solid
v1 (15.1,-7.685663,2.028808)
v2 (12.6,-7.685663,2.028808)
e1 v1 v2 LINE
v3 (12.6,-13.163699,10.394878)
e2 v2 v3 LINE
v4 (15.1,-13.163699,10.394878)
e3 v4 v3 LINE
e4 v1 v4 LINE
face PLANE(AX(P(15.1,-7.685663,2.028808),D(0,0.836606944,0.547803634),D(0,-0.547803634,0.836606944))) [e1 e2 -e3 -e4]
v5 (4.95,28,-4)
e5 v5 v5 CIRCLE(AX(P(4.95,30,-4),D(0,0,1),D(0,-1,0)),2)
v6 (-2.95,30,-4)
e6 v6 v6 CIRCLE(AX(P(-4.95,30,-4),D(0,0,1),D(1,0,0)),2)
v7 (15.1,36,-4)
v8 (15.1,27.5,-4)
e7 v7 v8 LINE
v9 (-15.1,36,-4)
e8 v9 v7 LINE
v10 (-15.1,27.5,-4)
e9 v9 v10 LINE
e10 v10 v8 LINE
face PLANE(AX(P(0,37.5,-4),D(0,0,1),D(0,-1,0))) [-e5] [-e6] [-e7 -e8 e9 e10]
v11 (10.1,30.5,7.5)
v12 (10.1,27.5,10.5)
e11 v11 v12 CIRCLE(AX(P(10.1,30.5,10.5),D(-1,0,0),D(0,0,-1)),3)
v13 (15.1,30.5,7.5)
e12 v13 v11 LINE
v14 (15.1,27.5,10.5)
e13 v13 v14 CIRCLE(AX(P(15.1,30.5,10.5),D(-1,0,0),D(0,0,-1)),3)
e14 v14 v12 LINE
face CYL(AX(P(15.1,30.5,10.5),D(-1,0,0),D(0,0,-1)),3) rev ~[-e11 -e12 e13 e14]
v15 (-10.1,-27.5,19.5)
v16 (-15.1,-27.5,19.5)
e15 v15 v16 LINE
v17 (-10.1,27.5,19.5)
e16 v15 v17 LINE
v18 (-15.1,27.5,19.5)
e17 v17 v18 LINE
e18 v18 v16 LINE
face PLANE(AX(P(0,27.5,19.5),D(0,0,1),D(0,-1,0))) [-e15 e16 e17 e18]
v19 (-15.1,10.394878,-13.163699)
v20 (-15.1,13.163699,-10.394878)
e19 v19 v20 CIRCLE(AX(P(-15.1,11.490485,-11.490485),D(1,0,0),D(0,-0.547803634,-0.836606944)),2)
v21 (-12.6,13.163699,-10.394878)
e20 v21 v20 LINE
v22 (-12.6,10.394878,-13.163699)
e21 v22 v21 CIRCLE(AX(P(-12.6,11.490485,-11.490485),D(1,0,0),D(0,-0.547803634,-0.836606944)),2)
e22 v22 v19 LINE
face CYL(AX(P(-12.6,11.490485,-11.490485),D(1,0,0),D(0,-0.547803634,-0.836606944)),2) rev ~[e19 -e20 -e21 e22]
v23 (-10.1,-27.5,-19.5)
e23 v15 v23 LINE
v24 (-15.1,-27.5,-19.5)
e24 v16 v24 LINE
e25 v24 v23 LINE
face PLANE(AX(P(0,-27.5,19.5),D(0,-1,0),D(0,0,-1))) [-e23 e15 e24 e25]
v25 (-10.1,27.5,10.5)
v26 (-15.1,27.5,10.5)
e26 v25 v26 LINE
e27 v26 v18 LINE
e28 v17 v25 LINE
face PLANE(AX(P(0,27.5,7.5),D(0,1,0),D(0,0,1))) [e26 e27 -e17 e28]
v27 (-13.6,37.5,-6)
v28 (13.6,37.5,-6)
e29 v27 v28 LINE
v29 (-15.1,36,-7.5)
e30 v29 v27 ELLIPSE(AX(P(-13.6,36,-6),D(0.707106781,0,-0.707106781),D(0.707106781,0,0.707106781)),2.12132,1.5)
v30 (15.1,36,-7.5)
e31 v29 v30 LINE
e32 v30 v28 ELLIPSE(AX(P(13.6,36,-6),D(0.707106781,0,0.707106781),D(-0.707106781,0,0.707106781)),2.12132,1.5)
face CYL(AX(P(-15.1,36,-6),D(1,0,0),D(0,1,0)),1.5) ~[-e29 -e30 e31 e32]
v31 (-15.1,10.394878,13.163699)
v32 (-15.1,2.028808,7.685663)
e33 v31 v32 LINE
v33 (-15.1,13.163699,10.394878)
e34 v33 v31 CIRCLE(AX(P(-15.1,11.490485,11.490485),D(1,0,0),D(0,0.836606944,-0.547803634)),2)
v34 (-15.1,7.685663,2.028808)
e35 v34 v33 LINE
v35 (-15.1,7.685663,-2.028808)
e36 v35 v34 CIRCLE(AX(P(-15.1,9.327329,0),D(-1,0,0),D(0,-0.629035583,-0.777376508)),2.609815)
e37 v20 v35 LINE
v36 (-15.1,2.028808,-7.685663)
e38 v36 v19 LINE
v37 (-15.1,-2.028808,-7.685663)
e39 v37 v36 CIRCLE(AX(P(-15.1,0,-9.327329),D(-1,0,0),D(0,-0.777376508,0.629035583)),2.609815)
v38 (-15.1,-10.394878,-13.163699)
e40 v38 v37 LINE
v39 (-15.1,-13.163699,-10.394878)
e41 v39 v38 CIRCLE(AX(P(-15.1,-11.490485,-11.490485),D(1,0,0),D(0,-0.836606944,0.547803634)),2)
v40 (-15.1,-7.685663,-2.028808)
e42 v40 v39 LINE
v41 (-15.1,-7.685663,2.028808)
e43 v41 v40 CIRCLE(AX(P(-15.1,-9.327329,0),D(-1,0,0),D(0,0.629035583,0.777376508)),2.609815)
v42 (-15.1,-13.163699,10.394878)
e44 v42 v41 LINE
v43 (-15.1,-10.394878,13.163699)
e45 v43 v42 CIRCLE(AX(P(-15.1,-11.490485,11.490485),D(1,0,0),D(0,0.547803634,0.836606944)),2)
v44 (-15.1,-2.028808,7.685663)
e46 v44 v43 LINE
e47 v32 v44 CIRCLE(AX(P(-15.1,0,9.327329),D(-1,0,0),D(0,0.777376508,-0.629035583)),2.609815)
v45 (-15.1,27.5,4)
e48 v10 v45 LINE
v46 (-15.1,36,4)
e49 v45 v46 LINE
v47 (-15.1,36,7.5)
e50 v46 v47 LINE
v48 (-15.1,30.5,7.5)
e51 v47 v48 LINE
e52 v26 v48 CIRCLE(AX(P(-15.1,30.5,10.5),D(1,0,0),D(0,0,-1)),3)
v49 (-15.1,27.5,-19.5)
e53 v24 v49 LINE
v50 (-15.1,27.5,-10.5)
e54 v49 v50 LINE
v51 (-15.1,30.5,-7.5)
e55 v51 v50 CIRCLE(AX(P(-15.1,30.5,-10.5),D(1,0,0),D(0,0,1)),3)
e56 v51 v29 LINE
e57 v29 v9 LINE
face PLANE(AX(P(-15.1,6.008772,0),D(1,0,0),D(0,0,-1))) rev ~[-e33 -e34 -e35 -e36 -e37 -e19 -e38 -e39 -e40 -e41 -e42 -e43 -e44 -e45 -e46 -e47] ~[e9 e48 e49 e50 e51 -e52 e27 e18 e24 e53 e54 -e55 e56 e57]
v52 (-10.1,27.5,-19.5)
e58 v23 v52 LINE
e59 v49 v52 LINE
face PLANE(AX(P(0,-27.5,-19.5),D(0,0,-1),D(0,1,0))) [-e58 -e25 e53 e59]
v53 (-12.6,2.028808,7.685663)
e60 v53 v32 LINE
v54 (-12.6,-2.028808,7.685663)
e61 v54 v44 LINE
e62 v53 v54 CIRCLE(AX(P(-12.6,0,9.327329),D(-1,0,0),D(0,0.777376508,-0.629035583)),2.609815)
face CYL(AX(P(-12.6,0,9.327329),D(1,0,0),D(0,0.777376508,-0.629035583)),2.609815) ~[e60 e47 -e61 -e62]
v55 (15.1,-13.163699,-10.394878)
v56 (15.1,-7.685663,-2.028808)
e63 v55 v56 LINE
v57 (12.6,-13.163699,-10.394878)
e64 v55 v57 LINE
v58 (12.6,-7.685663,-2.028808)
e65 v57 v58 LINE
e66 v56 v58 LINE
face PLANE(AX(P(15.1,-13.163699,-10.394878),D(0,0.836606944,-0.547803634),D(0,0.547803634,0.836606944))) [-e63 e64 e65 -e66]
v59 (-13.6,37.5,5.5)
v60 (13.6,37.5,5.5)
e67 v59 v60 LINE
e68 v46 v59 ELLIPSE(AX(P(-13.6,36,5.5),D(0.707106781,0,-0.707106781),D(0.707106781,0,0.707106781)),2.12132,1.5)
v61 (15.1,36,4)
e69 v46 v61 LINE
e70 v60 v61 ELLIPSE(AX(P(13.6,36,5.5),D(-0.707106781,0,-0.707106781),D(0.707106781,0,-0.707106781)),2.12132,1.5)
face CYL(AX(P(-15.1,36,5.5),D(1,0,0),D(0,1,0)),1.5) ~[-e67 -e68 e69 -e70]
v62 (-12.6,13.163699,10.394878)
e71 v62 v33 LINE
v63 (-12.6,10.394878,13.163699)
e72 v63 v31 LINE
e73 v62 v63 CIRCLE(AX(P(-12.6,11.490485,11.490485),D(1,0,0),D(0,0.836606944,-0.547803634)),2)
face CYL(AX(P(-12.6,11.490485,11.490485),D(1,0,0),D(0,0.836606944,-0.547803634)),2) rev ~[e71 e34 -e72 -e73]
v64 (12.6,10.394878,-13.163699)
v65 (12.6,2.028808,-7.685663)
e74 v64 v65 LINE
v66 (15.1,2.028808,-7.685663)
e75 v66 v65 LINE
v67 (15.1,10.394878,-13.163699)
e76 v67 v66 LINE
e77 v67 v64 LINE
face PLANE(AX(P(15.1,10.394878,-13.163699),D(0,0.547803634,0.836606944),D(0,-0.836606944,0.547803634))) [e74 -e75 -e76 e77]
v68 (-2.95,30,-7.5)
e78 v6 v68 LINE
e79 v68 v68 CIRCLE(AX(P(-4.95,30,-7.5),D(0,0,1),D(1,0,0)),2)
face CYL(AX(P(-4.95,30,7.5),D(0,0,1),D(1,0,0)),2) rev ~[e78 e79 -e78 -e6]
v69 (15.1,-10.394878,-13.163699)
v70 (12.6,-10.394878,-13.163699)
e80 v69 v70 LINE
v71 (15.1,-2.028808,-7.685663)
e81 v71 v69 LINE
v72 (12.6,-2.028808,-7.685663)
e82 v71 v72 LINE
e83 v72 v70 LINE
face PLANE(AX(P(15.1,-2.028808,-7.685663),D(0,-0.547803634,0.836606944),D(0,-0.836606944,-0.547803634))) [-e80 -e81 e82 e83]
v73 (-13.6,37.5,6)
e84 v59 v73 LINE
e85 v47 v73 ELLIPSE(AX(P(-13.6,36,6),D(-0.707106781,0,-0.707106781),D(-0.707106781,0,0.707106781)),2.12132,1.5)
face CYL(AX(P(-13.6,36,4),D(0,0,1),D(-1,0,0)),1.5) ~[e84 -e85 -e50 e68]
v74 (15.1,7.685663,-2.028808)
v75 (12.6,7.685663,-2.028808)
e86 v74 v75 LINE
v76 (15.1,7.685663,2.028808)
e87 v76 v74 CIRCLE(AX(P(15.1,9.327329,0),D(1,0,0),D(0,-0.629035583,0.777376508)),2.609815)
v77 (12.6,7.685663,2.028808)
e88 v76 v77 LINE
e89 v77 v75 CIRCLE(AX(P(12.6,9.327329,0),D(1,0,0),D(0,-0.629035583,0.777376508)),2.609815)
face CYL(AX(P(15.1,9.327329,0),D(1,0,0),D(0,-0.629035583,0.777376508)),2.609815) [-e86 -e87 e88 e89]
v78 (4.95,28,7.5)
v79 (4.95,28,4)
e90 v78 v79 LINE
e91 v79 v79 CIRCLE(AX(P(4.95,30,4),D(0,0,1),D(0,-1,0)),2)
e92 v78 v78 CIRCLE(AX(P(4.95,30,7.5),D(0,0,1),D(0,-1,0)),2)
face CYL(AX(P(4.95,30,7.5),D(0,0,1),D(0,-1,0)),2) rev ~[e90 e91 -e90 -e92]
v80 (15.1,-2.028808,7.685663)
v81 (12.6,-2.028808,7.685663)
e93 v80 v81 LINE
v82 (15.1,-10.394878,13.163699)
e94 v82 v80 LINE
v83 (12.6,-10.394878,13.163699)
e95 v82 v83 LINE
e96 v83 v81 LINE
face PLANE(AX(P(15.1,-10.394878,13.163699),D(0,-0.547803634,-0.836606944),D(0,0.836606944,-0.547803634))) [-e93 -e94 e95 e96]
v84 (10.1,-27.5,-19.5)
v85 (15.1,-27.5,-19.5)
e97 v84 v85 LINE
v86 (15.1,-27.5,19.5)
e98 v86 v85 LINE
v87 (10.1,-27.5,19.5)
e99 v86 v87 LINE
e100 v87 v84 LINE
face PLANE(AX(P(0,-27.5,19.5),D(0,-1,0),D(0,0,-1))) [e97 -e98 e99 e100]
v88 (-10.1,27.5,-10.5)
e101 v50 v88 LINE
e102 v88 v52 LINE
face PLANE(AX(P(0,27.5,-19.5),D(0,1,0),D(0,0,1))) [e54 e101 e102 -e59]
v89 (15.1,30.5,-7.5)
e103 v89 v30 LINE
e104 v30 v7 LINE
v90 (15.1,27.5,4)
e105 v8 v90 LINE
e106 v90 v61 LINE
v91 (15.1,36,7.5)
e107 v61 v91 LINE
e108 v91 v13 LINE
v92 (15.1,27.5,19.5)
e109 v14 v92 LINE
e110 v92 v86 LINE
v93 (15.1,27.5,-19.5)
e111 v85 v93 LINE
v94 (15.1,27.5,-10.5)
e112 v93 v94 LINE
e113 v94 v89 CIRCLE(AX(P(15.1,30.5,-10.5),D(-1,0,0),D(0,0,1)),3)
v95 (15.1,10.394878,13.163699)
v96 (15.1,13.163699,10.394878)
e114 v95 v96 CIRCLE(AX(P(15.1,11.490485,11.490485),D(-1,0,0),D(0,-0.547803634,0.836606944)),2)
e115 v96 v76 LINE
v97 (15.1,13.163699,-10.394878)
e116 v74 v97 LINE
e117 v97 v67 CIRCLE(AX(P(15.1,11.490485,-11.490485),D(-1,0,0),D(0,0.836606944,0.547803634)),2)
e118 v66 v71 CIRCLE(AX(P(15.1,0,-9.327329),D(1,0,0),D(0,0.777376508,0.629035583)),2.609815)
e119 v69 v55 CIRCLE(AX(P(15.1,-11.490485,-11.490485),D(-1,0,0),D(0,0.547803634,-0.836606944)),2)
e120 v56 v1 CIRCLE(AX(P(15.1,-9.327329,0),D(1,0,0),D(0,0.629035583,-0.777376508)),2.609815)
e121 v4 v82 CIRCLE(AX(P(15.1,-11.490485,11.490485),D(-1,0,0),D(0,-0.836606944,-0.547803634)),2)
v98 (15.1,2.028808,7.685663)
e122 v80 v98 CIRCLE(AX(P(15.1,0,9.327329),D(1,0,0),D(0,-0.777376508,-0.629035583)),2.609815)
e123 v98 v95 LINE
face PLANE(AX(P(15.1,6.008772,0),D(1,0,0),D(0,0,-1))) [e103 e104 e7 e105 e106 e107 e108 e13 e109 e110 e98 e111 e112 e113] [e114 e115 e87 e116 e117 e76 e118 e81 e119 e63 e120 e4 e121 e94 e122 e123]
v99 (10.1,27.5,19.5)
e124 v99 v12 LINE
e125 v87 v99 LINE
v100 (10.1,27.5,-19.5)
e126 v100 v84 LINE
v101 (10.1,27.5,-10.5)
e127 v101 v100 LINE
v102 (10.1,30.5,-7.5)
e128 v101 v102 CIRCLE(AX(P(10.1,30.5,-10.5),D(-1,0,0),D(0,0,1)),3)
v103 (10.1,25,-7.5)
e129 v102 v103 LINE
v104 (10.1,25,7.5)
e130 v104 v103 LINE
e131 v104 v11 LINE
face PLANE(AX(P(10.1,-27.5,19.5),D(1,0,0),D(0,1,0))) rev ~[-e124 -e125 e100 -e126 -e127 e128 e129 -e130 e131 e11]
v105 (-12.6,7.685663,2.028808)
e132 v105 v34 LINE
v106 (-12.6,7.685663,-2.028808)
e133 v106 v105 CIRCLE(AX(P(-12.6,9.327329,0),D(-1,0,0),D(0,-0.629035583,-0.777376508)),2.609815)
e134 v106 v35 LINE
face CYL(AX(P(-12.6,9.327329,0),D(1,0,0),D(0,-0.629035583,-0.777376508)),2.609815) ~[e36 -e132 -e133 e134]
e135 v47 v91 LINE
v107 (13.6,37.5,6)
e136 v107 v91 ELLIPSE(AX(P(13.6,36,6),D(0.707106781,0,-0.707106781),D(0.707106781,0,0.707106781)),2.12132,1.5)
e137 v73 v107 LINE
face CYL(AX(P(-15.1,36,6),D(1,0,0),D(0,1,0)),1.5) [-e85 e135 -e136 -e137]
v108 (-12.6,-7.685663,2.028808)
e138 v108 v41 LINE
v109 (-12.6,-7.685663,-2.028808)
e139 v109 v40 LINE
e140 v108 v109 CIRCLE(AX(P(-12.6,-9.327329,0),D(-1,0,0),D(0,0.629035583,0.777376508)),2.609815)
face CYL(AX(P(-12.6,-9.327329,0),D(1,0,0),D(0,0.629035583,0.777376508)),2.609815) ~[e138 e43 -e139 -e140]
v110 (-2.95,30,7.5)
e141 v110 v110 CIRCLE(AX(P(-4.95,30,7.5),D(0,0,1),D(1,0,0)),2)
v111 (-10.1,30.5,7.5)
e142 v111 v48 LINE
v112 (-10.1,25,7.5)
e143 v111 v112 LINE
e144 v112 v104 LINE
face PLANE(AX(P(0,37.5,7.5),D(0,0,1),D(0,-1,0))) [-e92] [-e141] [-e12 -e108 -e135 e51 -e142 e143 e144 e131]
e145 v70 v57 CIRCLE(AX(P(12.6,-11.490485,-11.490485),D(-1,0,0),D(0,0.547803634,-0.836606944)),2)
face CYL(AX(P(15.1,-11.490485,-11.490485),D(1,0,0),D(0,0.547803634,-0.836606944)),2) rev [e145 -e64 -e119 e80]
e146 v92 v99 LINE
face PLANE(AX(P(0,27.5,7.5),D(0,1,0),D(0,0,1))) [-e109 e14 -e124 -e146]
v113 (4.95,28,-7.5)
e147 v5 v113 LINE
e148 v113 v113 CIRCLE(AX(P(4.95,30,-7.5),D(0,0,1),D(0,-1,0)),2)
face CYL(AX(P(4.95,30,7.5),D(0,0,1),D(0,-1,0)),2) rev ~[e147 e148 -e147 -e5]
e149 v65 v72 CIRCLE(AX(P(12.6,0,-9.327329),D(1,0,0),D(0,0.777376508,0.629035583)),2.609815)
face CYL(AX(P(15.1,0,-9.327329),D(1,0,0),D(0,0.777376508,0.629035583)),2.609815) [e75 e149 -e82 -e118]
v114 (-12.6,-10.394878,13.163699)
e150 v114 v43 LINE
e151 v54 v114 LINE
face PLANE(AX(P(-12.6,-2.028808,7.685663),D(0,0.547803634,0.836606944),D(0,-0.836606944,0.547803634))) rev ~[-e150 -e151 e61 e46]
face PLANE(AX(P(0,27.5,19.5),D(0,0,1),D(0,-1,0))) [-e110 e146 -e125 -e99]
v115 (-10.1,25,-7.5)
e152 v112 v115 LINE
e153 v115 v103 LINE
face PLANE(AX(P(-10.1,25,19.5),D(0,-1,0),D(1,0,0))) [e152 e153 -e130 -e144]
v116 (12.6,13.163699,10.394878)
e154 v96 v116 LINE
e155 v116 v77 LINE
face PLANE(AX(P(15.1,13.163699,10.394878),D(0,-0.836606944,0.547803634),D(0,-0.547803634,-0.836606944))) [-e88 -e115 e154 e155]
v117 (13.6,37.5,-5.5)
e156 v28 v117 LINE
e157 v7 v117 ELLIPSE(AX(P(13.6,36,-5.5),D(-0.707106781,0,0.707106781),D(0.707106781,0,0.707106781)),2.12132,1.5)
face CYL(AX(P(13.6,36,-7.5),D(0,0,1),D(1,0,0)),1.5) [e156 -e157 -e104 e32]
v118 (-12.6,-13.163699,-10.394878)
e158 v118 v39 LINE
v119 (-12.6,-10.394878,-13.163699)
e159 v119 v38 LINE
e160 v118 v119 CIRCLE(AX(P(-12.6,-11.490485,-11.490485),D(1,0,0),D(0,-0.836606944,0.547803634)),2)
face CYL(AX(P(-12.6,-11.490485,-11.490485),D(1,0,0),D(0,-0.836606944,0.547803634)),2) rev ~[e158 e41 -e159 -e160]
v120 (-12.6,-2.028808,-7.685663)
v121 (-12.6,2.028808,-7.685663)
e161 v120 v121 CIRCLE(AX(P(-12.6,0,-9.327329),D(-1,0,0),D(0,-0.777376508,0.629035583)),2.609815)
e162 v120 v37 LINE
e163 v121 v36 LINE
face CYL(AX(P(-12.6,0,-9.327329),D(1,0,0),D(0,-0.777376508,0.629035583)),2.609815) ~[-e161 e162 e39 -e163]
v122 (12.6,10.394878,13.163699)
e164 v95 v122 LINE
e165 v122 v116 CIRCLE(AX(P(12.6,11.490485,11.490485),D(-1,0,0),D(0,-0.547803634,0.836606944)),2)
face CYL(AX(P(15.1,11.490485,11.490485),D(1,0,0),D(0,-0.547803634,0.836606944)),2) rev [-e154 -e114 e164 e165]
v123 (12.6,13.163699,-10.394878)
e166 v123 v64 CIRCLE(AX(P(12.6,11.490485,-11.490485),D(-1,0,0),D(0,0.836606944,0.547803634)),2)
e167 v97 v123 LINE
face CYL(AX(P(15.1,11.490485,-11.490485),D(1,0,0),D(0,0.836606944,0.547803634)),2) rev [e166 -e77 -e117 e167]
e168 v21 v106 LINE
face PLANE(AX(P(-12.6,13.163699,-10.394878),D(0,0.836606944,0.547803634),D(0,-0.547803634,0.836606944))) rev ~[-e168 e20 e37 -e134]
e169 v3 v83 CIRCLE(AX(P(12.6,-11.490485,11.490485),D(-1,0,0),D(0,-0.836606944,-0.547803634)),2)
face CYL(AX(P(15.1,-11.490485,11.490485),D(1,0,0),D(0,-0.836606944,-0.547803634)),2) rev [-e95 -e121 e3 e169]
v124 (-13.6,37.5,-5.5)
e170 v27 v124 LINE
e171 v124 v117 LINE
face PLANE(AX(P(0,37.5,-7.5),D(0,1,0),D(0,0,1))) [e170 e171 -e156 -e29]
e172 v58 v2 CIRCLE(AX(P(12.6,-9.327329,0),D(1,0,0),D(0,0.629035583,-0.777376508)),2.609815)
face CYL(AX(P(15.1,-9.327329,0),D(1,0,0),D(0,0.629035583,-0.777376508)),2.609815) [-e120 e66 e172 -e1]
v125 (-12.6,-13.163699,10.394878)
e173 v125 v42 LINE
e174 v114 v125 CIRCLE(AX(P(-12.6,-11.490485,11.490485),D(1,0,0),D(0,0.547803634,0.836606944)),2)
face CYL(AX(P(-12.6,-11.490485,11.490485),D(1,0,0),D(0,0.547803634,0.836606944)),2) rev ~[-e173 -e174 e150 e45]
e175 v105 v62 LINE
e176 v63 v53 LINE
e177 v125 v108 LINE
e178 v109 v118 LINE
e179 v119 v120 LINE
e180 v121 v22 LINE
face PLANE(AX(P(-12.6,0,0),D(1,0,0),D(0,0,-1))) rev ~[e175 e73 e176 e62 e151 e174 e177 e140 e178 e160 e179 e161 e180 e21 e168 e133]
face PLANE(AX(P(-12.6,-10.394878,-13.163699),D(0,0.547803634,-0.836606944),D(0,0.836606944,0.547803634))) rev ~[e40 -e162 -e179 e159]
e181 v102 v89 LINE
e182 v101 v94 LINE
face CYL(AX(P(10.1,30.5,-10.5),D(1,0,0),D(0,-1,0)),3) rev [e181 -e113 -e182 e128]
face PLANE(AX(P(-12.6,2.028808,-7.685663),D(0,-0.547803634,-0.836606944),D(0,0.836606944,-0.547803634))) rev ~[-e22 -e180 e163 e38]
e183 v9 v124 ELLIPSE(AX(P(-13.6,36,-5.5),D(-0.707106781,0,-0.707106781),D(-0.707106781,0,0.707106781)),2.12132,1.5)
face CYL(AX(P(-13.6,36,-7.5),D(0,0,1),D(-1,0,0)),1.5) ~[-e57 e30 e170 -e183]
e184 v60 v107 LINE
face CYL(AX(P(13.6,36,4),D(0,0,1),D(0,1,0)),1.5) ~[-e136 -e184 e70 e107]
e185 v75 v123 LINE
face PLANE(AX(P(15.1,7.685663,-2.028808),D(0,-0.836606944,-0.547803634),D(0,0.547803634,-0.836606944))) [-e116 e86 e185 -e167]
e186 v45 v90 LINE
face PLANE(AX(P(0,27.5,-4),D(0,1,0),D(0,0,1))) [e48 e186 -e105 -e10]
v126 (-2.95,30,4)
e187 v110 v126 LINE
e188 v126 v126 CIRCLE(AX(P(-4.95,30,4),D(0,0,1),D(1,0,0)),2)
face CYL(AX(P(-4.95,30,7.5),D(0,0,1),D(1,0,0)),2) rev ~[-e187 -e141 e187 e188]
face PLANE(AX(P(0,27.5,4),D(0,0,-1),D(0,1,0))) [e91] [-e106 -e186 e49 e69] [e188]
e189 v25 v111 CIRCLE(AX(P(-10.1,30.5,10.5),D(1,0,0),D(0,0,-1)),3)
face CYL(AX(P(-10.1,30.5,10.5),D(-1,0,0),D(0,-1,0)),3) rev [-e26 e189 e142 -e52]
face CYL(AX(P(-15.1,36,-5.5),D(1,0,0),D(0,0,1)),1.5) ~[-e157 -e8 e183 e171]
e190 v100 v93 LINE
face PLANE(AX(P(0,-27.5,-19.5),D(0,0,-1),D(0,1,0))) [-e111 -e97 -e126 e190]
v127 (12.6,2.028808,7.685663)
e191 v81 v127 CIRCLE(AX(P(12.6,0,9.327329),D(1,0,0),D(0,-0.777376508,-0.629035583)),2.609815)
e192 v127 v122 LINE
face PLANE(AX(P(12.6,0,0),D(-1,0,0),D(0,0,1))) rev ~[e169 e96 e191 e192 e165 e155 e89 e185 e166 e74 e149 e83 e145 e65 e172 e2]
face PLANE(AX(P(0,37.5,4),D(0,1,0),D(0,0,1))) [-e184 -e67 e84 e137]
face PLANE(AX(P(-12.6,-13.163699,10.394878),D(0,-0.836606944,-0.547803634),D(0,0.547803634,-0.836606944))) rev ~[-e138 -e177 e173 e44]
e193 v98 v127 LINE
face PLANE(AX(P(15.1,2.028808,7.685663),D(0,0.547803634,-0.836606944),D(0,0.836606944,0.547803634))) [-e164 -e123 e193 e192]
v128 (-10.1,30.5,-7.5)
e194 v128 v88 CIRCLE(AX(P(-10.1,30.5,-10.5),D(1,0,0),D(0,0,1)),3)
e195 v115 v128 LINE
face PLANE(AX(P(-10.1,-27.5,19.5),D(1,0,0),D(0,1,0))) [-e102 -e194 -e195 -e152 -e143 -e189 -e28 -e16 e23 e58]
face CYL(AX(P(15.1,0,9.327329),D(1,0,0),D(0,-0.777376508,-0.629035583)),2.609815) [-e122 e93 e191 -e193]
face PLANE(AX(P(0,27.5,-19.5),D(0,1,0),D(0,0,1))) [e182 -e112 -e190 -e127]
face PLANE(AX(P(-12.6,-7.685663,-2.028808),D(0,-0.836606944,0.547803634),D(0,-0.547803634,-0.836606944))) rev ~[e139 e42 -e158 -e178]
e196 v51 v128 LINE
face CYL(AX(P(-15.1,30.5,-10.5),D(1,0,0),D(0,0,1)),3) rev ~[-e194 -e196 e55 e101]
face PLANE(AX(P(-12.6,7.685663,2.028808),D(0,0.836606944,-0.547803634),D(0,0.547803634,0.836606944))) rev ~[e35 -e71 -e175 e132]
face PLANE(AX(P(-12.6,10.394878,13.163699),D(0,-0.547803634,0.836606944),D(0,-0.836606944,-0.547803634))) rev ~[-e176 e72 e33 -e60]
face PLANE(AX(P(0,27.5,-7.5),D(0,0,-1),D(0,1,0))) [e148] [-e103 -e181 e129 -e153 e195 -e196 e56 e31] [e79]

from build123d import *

# Parameters (mm, degrees)
BOSS_EXTRUDE1_DEPTH = 15.1
SKETCH2_W           = 20.2
SKETCH2_H           = 52.5
CUT_EXTRUDE1_DEPTH  = 39
SKETCH3_W           = 20.2
SKETCH3_H           = 12
CUT_EXTRUDE2_DEPTH  = 2.5
FILLET1_R           = 3
FILLET2_R           = 1.5
CUT_EXTRUDE3_REACH  = 50.613
SKETCH4_R           = 2
CUT_EXTRUDE4_DEPTH  = 2.5
CUT_EXTRUDE5_START  = -2.5
CUT_EXTRUDE5_DEPTH  = 2.5


with BuildPart() as part:
    # Sketch1 → Boss-Extrude1 (new, symmetric)
    with BuildSketch(Plane(origin=(0, 0, 0), x_dir=(0, 0, -1), z_dir=(1, 0, 0))):
        Polygon((-19.5, -27.5), (19.5, -27.5), (19.5, 27.5), (7.5, 27.5), (7.5, 37.5), (4, 37.5), (4, 27.5), (-4, 27.5), (-4, 37.5), (-7.5, 37.5), (-7.5, 27.5), (-19.5, 27.5), align=None)
    extrude(amount=BOSS_EXTRUDE1_DEPTH, both=True)

    # Sketch2 → Cut-Extrude1 (cut)
    with BuildSketch(Plane.XY.offset(19.5)):
        with Locations((0, -1.25)):
            Rectangle(SKETCH2_W, SKETCH2_H)
    extrude(amount=-CUT_EXTRUDE1_DEPTH, mode=Mode.SUBTRACT)

    # Sketch3 → Cut-Extrude2 (cut)
    with BuildSketch(Plane(origin=(0, 27.5, 0), x_dir=(1, 0, 0), z_dir=(0, 1, 0))):
        with Locations((0, -13.5)):
            Rectangle(SKETCH3_W, SKETCH3_H)
        with Locations((0, 13.5)):
            Rectangle(SKETCH3_W, SKETCH3_H)
    extrude(amount=-CUT_EXTRUDE2_DEPTH, mode=Mode.SUBTRACT)

    # Fillet1
    fillet1_edges = [part.edges().sort_by_distance(p)[0] for p in [
        (12.6, 27.5, 7.5),
        (12.6, 27.5, -7.5),
        (-12.6, 27.5, 7.5),
        (-12.6, 27.5, -7.5),
    ]]
    fillet(fillet1_edges, radius=FILLET1_R)

    # Fillet2
    fillet2_edges = [part.edges().sort_by_distance(p)[0] for p in [
        (15.1, 37.5, -5.75),
        (-15.1, 37.5, 5.75),
        (-15.1, 37.5, -5.75),
        (0, 37.5, 7.5),
        (0, 37.5, 4),
        (0, 37.5, -4),
        (0, 37.5, -7.5),
        (15.1, 37.5, 5.75),
    ]]
    fillet(fillet2_edges, radius=FILLET2_R)

    # Cut-Extrude3: up to this face of the body (flat: up to its plane)
    cut_extrude3_end = Plane(part.part.faces().sort_by_distance((0, 31.045634921, -7.5))[0])
    # Sketch4 → Cut-Extrude3 (cut, up to the picked face)
    with BuildSketch(Plane.XY.offset(7.5), mode=Mode.PRIVATE) as cut_extrude3_sk1:
        with Locations((-4.95, 30)):
            Circle(SKETCH4_R)
    cut_extrude3_tool1 = split(extrude(cut_extrude3_sk1.sketch, amount=-CUT_EXTRUDE3_REACH, mode=Mode.PRIVATE), bisect_by=cut_extrude3_end, keep=Keep.BOTH, mode=Mode.PRIVATE)
    # Sketch4 → Cut-Extrude3 (cut, up to the picked face)
    with BuildSketch(Plane.XY.offset(7.5), mode=Mode.PRIVATE) as cut_extrude3_sk2:
        with Locations(Location((4.95, 30, 0), (0, 0, 270))):
            Circle(SKETCH4_R)
    cut_extrude3_tool2 = split(extrude(cut_extrude3_sk2.sketch, amount=-CUT_EXTRUDE3_REACH, mode=Mode.PRIVATE), bisect_by=cut_extrude3_end, keep=Keep.BOTH, mode=Mode.PRIVATE)
    add(cut_extrude3_tool1.solids().sort_by(Axis((-4.95, 30, 7.5), (0, 0, -1)))[0], mode=Mode.SUBTRACT)
    add(cut_extrude3_tool2.solids().sort_by(Axis((4.95, 30, 7.5), (0, 0, -1)))[0], mode=Mode.SUBTRACT)

    # Sketch5 → Cut-Extrude4 (cut)
    with BuildSketch(Plane(origin=(15.1, 0, 0), x_dir=(0, 0, -1), z_dir=(1, 0, 0))):
        with BuildLine():
            Line((13.163699082, 10.394877926), (7.685662738, 2.028808489))
            ThreePointArc((7.685662738, 2.028808489), (6.717514421, 0), (7.685662738, -2.028808489))
            Line((7.685662738, -2.028808489), (13.163699082, -10.394877926))
            ThreePointArc((13.163699082, -10.394877926), (12.904698757, -12.904698757), (10.394877926, -13.163699082))
            Line((10.394877926, -13.163699082), (2.028808489, -7.685662738))
            ThreePointArc((2.028808489, -7.685662738), (0, -6.717514421), (-2.028808489, -7.685662738))
            Line((-2.028808489, -7.685662738), (-10.394877926, -13.163699082))
            ThreePointArc((-10.394877926, -13.163699082), (-12.904698757, -12.904698757), (-13.163699082, -10.394877926))
            Line((-13.163699082, -10.394877926), (-7.685662738, -2.028808489))
            ThreePointArc((-7.685662738, -2.028808489), (-6.717514421, 0), (-7.685662738, 2.028808489))
            Line((-7.685662738, 2.028808489), (-13.163699082, 10.394877926))
            ThreePointArc((-13.163699082, 10.394877926), (-12.904698757, 12.904698757), (-10.394877926, 13.163699082))
            Line((-10.394877926, 13.163699082), (-2.028808489, 7.685662738))
            ThreePointArc((-2.028808489, 7.685662738), (0, 6.717514421), (2.028808489, 7.685662738))
            Line((2.028808489, 7.685662738), (10.394877926, 13.163699082))
            ThreePointArc((10.394877926, 13.163699082), (12.904698757, 12.904698757), (13.163699082, 10.394877926))
        make_face()
    extrude(amount=-CUT_EXTRUDE4_DEPTH, mode=Mode.SUBTRACT)

    # Sketch6 → Cut-Extrude5 (cut)
    with BuildSketch(Plane.ZY.offset(15.1).offset(CUT_EXTRUDE5_START)):
        with BuildLine():
            Line((13.163699082, 10.394877926), (7.685662738, 2.028808489))
            ThreePointArc((7.685662738, 2.028808489), (6.717514421, 0), (7.685662738, -2.028808489))
            Line((7.685662738, -2.028808489), (13.163699082, -10.394877926))
            ThreePointArc((13.163699082, -10.394877926), (12.904698757, -12.904698757), (10.394877926, -13.163699082))
            Line((10.394877926, -13.163699082), (2.028808489, -7.685662738))
            ThreePointArc((2.028808489, -7.685662738), (0, -6.717514421), (-2.028808489, -7.685662738))
            Line((-2.028808489, -7.685662738), (-10.394877926, -13.163699082))
            ThreePointArc((-10.394877926, -13.163699082), (-12.904698757, -12.904698757), (-13.163699082, -10.394877926))
            Line((-13.163699082, -10.394877926), (-7.685662738, -2.028808489))
            ThreePointArc((-7.685662738, -2.028808489), (-6.717514421, 0), (-7.685662738, 2.028808489))
            Line((-7.685662738, 2.028808489), (-13.163699082, 10.394877926))
            ThreePointArc((-13.163699082, 10.394877926), (-12.904698757, 12.904698757), (-10.394877926, 13.163699082))
            Line((-10.394877926, 13.163699082), (-2.028808489, 7.685662738))
            ThreePointArc((-2.028808489, 7.685662738), (0, 6.717514421), (2.028808489, 7.685662738))
            Line((2.028808489, 7.685662738), (10.394877926, 13.163699082))
            ThreePointArc((10.394877926, 13.163699082), (12.904698757, 12.904698757), (13.163699082, 10.394877926))
        make_face()
    extrude(amount=CUT_EXTRUDE5_DEPTH, mode=Mode.SUBTRACT)


solid = part.part
